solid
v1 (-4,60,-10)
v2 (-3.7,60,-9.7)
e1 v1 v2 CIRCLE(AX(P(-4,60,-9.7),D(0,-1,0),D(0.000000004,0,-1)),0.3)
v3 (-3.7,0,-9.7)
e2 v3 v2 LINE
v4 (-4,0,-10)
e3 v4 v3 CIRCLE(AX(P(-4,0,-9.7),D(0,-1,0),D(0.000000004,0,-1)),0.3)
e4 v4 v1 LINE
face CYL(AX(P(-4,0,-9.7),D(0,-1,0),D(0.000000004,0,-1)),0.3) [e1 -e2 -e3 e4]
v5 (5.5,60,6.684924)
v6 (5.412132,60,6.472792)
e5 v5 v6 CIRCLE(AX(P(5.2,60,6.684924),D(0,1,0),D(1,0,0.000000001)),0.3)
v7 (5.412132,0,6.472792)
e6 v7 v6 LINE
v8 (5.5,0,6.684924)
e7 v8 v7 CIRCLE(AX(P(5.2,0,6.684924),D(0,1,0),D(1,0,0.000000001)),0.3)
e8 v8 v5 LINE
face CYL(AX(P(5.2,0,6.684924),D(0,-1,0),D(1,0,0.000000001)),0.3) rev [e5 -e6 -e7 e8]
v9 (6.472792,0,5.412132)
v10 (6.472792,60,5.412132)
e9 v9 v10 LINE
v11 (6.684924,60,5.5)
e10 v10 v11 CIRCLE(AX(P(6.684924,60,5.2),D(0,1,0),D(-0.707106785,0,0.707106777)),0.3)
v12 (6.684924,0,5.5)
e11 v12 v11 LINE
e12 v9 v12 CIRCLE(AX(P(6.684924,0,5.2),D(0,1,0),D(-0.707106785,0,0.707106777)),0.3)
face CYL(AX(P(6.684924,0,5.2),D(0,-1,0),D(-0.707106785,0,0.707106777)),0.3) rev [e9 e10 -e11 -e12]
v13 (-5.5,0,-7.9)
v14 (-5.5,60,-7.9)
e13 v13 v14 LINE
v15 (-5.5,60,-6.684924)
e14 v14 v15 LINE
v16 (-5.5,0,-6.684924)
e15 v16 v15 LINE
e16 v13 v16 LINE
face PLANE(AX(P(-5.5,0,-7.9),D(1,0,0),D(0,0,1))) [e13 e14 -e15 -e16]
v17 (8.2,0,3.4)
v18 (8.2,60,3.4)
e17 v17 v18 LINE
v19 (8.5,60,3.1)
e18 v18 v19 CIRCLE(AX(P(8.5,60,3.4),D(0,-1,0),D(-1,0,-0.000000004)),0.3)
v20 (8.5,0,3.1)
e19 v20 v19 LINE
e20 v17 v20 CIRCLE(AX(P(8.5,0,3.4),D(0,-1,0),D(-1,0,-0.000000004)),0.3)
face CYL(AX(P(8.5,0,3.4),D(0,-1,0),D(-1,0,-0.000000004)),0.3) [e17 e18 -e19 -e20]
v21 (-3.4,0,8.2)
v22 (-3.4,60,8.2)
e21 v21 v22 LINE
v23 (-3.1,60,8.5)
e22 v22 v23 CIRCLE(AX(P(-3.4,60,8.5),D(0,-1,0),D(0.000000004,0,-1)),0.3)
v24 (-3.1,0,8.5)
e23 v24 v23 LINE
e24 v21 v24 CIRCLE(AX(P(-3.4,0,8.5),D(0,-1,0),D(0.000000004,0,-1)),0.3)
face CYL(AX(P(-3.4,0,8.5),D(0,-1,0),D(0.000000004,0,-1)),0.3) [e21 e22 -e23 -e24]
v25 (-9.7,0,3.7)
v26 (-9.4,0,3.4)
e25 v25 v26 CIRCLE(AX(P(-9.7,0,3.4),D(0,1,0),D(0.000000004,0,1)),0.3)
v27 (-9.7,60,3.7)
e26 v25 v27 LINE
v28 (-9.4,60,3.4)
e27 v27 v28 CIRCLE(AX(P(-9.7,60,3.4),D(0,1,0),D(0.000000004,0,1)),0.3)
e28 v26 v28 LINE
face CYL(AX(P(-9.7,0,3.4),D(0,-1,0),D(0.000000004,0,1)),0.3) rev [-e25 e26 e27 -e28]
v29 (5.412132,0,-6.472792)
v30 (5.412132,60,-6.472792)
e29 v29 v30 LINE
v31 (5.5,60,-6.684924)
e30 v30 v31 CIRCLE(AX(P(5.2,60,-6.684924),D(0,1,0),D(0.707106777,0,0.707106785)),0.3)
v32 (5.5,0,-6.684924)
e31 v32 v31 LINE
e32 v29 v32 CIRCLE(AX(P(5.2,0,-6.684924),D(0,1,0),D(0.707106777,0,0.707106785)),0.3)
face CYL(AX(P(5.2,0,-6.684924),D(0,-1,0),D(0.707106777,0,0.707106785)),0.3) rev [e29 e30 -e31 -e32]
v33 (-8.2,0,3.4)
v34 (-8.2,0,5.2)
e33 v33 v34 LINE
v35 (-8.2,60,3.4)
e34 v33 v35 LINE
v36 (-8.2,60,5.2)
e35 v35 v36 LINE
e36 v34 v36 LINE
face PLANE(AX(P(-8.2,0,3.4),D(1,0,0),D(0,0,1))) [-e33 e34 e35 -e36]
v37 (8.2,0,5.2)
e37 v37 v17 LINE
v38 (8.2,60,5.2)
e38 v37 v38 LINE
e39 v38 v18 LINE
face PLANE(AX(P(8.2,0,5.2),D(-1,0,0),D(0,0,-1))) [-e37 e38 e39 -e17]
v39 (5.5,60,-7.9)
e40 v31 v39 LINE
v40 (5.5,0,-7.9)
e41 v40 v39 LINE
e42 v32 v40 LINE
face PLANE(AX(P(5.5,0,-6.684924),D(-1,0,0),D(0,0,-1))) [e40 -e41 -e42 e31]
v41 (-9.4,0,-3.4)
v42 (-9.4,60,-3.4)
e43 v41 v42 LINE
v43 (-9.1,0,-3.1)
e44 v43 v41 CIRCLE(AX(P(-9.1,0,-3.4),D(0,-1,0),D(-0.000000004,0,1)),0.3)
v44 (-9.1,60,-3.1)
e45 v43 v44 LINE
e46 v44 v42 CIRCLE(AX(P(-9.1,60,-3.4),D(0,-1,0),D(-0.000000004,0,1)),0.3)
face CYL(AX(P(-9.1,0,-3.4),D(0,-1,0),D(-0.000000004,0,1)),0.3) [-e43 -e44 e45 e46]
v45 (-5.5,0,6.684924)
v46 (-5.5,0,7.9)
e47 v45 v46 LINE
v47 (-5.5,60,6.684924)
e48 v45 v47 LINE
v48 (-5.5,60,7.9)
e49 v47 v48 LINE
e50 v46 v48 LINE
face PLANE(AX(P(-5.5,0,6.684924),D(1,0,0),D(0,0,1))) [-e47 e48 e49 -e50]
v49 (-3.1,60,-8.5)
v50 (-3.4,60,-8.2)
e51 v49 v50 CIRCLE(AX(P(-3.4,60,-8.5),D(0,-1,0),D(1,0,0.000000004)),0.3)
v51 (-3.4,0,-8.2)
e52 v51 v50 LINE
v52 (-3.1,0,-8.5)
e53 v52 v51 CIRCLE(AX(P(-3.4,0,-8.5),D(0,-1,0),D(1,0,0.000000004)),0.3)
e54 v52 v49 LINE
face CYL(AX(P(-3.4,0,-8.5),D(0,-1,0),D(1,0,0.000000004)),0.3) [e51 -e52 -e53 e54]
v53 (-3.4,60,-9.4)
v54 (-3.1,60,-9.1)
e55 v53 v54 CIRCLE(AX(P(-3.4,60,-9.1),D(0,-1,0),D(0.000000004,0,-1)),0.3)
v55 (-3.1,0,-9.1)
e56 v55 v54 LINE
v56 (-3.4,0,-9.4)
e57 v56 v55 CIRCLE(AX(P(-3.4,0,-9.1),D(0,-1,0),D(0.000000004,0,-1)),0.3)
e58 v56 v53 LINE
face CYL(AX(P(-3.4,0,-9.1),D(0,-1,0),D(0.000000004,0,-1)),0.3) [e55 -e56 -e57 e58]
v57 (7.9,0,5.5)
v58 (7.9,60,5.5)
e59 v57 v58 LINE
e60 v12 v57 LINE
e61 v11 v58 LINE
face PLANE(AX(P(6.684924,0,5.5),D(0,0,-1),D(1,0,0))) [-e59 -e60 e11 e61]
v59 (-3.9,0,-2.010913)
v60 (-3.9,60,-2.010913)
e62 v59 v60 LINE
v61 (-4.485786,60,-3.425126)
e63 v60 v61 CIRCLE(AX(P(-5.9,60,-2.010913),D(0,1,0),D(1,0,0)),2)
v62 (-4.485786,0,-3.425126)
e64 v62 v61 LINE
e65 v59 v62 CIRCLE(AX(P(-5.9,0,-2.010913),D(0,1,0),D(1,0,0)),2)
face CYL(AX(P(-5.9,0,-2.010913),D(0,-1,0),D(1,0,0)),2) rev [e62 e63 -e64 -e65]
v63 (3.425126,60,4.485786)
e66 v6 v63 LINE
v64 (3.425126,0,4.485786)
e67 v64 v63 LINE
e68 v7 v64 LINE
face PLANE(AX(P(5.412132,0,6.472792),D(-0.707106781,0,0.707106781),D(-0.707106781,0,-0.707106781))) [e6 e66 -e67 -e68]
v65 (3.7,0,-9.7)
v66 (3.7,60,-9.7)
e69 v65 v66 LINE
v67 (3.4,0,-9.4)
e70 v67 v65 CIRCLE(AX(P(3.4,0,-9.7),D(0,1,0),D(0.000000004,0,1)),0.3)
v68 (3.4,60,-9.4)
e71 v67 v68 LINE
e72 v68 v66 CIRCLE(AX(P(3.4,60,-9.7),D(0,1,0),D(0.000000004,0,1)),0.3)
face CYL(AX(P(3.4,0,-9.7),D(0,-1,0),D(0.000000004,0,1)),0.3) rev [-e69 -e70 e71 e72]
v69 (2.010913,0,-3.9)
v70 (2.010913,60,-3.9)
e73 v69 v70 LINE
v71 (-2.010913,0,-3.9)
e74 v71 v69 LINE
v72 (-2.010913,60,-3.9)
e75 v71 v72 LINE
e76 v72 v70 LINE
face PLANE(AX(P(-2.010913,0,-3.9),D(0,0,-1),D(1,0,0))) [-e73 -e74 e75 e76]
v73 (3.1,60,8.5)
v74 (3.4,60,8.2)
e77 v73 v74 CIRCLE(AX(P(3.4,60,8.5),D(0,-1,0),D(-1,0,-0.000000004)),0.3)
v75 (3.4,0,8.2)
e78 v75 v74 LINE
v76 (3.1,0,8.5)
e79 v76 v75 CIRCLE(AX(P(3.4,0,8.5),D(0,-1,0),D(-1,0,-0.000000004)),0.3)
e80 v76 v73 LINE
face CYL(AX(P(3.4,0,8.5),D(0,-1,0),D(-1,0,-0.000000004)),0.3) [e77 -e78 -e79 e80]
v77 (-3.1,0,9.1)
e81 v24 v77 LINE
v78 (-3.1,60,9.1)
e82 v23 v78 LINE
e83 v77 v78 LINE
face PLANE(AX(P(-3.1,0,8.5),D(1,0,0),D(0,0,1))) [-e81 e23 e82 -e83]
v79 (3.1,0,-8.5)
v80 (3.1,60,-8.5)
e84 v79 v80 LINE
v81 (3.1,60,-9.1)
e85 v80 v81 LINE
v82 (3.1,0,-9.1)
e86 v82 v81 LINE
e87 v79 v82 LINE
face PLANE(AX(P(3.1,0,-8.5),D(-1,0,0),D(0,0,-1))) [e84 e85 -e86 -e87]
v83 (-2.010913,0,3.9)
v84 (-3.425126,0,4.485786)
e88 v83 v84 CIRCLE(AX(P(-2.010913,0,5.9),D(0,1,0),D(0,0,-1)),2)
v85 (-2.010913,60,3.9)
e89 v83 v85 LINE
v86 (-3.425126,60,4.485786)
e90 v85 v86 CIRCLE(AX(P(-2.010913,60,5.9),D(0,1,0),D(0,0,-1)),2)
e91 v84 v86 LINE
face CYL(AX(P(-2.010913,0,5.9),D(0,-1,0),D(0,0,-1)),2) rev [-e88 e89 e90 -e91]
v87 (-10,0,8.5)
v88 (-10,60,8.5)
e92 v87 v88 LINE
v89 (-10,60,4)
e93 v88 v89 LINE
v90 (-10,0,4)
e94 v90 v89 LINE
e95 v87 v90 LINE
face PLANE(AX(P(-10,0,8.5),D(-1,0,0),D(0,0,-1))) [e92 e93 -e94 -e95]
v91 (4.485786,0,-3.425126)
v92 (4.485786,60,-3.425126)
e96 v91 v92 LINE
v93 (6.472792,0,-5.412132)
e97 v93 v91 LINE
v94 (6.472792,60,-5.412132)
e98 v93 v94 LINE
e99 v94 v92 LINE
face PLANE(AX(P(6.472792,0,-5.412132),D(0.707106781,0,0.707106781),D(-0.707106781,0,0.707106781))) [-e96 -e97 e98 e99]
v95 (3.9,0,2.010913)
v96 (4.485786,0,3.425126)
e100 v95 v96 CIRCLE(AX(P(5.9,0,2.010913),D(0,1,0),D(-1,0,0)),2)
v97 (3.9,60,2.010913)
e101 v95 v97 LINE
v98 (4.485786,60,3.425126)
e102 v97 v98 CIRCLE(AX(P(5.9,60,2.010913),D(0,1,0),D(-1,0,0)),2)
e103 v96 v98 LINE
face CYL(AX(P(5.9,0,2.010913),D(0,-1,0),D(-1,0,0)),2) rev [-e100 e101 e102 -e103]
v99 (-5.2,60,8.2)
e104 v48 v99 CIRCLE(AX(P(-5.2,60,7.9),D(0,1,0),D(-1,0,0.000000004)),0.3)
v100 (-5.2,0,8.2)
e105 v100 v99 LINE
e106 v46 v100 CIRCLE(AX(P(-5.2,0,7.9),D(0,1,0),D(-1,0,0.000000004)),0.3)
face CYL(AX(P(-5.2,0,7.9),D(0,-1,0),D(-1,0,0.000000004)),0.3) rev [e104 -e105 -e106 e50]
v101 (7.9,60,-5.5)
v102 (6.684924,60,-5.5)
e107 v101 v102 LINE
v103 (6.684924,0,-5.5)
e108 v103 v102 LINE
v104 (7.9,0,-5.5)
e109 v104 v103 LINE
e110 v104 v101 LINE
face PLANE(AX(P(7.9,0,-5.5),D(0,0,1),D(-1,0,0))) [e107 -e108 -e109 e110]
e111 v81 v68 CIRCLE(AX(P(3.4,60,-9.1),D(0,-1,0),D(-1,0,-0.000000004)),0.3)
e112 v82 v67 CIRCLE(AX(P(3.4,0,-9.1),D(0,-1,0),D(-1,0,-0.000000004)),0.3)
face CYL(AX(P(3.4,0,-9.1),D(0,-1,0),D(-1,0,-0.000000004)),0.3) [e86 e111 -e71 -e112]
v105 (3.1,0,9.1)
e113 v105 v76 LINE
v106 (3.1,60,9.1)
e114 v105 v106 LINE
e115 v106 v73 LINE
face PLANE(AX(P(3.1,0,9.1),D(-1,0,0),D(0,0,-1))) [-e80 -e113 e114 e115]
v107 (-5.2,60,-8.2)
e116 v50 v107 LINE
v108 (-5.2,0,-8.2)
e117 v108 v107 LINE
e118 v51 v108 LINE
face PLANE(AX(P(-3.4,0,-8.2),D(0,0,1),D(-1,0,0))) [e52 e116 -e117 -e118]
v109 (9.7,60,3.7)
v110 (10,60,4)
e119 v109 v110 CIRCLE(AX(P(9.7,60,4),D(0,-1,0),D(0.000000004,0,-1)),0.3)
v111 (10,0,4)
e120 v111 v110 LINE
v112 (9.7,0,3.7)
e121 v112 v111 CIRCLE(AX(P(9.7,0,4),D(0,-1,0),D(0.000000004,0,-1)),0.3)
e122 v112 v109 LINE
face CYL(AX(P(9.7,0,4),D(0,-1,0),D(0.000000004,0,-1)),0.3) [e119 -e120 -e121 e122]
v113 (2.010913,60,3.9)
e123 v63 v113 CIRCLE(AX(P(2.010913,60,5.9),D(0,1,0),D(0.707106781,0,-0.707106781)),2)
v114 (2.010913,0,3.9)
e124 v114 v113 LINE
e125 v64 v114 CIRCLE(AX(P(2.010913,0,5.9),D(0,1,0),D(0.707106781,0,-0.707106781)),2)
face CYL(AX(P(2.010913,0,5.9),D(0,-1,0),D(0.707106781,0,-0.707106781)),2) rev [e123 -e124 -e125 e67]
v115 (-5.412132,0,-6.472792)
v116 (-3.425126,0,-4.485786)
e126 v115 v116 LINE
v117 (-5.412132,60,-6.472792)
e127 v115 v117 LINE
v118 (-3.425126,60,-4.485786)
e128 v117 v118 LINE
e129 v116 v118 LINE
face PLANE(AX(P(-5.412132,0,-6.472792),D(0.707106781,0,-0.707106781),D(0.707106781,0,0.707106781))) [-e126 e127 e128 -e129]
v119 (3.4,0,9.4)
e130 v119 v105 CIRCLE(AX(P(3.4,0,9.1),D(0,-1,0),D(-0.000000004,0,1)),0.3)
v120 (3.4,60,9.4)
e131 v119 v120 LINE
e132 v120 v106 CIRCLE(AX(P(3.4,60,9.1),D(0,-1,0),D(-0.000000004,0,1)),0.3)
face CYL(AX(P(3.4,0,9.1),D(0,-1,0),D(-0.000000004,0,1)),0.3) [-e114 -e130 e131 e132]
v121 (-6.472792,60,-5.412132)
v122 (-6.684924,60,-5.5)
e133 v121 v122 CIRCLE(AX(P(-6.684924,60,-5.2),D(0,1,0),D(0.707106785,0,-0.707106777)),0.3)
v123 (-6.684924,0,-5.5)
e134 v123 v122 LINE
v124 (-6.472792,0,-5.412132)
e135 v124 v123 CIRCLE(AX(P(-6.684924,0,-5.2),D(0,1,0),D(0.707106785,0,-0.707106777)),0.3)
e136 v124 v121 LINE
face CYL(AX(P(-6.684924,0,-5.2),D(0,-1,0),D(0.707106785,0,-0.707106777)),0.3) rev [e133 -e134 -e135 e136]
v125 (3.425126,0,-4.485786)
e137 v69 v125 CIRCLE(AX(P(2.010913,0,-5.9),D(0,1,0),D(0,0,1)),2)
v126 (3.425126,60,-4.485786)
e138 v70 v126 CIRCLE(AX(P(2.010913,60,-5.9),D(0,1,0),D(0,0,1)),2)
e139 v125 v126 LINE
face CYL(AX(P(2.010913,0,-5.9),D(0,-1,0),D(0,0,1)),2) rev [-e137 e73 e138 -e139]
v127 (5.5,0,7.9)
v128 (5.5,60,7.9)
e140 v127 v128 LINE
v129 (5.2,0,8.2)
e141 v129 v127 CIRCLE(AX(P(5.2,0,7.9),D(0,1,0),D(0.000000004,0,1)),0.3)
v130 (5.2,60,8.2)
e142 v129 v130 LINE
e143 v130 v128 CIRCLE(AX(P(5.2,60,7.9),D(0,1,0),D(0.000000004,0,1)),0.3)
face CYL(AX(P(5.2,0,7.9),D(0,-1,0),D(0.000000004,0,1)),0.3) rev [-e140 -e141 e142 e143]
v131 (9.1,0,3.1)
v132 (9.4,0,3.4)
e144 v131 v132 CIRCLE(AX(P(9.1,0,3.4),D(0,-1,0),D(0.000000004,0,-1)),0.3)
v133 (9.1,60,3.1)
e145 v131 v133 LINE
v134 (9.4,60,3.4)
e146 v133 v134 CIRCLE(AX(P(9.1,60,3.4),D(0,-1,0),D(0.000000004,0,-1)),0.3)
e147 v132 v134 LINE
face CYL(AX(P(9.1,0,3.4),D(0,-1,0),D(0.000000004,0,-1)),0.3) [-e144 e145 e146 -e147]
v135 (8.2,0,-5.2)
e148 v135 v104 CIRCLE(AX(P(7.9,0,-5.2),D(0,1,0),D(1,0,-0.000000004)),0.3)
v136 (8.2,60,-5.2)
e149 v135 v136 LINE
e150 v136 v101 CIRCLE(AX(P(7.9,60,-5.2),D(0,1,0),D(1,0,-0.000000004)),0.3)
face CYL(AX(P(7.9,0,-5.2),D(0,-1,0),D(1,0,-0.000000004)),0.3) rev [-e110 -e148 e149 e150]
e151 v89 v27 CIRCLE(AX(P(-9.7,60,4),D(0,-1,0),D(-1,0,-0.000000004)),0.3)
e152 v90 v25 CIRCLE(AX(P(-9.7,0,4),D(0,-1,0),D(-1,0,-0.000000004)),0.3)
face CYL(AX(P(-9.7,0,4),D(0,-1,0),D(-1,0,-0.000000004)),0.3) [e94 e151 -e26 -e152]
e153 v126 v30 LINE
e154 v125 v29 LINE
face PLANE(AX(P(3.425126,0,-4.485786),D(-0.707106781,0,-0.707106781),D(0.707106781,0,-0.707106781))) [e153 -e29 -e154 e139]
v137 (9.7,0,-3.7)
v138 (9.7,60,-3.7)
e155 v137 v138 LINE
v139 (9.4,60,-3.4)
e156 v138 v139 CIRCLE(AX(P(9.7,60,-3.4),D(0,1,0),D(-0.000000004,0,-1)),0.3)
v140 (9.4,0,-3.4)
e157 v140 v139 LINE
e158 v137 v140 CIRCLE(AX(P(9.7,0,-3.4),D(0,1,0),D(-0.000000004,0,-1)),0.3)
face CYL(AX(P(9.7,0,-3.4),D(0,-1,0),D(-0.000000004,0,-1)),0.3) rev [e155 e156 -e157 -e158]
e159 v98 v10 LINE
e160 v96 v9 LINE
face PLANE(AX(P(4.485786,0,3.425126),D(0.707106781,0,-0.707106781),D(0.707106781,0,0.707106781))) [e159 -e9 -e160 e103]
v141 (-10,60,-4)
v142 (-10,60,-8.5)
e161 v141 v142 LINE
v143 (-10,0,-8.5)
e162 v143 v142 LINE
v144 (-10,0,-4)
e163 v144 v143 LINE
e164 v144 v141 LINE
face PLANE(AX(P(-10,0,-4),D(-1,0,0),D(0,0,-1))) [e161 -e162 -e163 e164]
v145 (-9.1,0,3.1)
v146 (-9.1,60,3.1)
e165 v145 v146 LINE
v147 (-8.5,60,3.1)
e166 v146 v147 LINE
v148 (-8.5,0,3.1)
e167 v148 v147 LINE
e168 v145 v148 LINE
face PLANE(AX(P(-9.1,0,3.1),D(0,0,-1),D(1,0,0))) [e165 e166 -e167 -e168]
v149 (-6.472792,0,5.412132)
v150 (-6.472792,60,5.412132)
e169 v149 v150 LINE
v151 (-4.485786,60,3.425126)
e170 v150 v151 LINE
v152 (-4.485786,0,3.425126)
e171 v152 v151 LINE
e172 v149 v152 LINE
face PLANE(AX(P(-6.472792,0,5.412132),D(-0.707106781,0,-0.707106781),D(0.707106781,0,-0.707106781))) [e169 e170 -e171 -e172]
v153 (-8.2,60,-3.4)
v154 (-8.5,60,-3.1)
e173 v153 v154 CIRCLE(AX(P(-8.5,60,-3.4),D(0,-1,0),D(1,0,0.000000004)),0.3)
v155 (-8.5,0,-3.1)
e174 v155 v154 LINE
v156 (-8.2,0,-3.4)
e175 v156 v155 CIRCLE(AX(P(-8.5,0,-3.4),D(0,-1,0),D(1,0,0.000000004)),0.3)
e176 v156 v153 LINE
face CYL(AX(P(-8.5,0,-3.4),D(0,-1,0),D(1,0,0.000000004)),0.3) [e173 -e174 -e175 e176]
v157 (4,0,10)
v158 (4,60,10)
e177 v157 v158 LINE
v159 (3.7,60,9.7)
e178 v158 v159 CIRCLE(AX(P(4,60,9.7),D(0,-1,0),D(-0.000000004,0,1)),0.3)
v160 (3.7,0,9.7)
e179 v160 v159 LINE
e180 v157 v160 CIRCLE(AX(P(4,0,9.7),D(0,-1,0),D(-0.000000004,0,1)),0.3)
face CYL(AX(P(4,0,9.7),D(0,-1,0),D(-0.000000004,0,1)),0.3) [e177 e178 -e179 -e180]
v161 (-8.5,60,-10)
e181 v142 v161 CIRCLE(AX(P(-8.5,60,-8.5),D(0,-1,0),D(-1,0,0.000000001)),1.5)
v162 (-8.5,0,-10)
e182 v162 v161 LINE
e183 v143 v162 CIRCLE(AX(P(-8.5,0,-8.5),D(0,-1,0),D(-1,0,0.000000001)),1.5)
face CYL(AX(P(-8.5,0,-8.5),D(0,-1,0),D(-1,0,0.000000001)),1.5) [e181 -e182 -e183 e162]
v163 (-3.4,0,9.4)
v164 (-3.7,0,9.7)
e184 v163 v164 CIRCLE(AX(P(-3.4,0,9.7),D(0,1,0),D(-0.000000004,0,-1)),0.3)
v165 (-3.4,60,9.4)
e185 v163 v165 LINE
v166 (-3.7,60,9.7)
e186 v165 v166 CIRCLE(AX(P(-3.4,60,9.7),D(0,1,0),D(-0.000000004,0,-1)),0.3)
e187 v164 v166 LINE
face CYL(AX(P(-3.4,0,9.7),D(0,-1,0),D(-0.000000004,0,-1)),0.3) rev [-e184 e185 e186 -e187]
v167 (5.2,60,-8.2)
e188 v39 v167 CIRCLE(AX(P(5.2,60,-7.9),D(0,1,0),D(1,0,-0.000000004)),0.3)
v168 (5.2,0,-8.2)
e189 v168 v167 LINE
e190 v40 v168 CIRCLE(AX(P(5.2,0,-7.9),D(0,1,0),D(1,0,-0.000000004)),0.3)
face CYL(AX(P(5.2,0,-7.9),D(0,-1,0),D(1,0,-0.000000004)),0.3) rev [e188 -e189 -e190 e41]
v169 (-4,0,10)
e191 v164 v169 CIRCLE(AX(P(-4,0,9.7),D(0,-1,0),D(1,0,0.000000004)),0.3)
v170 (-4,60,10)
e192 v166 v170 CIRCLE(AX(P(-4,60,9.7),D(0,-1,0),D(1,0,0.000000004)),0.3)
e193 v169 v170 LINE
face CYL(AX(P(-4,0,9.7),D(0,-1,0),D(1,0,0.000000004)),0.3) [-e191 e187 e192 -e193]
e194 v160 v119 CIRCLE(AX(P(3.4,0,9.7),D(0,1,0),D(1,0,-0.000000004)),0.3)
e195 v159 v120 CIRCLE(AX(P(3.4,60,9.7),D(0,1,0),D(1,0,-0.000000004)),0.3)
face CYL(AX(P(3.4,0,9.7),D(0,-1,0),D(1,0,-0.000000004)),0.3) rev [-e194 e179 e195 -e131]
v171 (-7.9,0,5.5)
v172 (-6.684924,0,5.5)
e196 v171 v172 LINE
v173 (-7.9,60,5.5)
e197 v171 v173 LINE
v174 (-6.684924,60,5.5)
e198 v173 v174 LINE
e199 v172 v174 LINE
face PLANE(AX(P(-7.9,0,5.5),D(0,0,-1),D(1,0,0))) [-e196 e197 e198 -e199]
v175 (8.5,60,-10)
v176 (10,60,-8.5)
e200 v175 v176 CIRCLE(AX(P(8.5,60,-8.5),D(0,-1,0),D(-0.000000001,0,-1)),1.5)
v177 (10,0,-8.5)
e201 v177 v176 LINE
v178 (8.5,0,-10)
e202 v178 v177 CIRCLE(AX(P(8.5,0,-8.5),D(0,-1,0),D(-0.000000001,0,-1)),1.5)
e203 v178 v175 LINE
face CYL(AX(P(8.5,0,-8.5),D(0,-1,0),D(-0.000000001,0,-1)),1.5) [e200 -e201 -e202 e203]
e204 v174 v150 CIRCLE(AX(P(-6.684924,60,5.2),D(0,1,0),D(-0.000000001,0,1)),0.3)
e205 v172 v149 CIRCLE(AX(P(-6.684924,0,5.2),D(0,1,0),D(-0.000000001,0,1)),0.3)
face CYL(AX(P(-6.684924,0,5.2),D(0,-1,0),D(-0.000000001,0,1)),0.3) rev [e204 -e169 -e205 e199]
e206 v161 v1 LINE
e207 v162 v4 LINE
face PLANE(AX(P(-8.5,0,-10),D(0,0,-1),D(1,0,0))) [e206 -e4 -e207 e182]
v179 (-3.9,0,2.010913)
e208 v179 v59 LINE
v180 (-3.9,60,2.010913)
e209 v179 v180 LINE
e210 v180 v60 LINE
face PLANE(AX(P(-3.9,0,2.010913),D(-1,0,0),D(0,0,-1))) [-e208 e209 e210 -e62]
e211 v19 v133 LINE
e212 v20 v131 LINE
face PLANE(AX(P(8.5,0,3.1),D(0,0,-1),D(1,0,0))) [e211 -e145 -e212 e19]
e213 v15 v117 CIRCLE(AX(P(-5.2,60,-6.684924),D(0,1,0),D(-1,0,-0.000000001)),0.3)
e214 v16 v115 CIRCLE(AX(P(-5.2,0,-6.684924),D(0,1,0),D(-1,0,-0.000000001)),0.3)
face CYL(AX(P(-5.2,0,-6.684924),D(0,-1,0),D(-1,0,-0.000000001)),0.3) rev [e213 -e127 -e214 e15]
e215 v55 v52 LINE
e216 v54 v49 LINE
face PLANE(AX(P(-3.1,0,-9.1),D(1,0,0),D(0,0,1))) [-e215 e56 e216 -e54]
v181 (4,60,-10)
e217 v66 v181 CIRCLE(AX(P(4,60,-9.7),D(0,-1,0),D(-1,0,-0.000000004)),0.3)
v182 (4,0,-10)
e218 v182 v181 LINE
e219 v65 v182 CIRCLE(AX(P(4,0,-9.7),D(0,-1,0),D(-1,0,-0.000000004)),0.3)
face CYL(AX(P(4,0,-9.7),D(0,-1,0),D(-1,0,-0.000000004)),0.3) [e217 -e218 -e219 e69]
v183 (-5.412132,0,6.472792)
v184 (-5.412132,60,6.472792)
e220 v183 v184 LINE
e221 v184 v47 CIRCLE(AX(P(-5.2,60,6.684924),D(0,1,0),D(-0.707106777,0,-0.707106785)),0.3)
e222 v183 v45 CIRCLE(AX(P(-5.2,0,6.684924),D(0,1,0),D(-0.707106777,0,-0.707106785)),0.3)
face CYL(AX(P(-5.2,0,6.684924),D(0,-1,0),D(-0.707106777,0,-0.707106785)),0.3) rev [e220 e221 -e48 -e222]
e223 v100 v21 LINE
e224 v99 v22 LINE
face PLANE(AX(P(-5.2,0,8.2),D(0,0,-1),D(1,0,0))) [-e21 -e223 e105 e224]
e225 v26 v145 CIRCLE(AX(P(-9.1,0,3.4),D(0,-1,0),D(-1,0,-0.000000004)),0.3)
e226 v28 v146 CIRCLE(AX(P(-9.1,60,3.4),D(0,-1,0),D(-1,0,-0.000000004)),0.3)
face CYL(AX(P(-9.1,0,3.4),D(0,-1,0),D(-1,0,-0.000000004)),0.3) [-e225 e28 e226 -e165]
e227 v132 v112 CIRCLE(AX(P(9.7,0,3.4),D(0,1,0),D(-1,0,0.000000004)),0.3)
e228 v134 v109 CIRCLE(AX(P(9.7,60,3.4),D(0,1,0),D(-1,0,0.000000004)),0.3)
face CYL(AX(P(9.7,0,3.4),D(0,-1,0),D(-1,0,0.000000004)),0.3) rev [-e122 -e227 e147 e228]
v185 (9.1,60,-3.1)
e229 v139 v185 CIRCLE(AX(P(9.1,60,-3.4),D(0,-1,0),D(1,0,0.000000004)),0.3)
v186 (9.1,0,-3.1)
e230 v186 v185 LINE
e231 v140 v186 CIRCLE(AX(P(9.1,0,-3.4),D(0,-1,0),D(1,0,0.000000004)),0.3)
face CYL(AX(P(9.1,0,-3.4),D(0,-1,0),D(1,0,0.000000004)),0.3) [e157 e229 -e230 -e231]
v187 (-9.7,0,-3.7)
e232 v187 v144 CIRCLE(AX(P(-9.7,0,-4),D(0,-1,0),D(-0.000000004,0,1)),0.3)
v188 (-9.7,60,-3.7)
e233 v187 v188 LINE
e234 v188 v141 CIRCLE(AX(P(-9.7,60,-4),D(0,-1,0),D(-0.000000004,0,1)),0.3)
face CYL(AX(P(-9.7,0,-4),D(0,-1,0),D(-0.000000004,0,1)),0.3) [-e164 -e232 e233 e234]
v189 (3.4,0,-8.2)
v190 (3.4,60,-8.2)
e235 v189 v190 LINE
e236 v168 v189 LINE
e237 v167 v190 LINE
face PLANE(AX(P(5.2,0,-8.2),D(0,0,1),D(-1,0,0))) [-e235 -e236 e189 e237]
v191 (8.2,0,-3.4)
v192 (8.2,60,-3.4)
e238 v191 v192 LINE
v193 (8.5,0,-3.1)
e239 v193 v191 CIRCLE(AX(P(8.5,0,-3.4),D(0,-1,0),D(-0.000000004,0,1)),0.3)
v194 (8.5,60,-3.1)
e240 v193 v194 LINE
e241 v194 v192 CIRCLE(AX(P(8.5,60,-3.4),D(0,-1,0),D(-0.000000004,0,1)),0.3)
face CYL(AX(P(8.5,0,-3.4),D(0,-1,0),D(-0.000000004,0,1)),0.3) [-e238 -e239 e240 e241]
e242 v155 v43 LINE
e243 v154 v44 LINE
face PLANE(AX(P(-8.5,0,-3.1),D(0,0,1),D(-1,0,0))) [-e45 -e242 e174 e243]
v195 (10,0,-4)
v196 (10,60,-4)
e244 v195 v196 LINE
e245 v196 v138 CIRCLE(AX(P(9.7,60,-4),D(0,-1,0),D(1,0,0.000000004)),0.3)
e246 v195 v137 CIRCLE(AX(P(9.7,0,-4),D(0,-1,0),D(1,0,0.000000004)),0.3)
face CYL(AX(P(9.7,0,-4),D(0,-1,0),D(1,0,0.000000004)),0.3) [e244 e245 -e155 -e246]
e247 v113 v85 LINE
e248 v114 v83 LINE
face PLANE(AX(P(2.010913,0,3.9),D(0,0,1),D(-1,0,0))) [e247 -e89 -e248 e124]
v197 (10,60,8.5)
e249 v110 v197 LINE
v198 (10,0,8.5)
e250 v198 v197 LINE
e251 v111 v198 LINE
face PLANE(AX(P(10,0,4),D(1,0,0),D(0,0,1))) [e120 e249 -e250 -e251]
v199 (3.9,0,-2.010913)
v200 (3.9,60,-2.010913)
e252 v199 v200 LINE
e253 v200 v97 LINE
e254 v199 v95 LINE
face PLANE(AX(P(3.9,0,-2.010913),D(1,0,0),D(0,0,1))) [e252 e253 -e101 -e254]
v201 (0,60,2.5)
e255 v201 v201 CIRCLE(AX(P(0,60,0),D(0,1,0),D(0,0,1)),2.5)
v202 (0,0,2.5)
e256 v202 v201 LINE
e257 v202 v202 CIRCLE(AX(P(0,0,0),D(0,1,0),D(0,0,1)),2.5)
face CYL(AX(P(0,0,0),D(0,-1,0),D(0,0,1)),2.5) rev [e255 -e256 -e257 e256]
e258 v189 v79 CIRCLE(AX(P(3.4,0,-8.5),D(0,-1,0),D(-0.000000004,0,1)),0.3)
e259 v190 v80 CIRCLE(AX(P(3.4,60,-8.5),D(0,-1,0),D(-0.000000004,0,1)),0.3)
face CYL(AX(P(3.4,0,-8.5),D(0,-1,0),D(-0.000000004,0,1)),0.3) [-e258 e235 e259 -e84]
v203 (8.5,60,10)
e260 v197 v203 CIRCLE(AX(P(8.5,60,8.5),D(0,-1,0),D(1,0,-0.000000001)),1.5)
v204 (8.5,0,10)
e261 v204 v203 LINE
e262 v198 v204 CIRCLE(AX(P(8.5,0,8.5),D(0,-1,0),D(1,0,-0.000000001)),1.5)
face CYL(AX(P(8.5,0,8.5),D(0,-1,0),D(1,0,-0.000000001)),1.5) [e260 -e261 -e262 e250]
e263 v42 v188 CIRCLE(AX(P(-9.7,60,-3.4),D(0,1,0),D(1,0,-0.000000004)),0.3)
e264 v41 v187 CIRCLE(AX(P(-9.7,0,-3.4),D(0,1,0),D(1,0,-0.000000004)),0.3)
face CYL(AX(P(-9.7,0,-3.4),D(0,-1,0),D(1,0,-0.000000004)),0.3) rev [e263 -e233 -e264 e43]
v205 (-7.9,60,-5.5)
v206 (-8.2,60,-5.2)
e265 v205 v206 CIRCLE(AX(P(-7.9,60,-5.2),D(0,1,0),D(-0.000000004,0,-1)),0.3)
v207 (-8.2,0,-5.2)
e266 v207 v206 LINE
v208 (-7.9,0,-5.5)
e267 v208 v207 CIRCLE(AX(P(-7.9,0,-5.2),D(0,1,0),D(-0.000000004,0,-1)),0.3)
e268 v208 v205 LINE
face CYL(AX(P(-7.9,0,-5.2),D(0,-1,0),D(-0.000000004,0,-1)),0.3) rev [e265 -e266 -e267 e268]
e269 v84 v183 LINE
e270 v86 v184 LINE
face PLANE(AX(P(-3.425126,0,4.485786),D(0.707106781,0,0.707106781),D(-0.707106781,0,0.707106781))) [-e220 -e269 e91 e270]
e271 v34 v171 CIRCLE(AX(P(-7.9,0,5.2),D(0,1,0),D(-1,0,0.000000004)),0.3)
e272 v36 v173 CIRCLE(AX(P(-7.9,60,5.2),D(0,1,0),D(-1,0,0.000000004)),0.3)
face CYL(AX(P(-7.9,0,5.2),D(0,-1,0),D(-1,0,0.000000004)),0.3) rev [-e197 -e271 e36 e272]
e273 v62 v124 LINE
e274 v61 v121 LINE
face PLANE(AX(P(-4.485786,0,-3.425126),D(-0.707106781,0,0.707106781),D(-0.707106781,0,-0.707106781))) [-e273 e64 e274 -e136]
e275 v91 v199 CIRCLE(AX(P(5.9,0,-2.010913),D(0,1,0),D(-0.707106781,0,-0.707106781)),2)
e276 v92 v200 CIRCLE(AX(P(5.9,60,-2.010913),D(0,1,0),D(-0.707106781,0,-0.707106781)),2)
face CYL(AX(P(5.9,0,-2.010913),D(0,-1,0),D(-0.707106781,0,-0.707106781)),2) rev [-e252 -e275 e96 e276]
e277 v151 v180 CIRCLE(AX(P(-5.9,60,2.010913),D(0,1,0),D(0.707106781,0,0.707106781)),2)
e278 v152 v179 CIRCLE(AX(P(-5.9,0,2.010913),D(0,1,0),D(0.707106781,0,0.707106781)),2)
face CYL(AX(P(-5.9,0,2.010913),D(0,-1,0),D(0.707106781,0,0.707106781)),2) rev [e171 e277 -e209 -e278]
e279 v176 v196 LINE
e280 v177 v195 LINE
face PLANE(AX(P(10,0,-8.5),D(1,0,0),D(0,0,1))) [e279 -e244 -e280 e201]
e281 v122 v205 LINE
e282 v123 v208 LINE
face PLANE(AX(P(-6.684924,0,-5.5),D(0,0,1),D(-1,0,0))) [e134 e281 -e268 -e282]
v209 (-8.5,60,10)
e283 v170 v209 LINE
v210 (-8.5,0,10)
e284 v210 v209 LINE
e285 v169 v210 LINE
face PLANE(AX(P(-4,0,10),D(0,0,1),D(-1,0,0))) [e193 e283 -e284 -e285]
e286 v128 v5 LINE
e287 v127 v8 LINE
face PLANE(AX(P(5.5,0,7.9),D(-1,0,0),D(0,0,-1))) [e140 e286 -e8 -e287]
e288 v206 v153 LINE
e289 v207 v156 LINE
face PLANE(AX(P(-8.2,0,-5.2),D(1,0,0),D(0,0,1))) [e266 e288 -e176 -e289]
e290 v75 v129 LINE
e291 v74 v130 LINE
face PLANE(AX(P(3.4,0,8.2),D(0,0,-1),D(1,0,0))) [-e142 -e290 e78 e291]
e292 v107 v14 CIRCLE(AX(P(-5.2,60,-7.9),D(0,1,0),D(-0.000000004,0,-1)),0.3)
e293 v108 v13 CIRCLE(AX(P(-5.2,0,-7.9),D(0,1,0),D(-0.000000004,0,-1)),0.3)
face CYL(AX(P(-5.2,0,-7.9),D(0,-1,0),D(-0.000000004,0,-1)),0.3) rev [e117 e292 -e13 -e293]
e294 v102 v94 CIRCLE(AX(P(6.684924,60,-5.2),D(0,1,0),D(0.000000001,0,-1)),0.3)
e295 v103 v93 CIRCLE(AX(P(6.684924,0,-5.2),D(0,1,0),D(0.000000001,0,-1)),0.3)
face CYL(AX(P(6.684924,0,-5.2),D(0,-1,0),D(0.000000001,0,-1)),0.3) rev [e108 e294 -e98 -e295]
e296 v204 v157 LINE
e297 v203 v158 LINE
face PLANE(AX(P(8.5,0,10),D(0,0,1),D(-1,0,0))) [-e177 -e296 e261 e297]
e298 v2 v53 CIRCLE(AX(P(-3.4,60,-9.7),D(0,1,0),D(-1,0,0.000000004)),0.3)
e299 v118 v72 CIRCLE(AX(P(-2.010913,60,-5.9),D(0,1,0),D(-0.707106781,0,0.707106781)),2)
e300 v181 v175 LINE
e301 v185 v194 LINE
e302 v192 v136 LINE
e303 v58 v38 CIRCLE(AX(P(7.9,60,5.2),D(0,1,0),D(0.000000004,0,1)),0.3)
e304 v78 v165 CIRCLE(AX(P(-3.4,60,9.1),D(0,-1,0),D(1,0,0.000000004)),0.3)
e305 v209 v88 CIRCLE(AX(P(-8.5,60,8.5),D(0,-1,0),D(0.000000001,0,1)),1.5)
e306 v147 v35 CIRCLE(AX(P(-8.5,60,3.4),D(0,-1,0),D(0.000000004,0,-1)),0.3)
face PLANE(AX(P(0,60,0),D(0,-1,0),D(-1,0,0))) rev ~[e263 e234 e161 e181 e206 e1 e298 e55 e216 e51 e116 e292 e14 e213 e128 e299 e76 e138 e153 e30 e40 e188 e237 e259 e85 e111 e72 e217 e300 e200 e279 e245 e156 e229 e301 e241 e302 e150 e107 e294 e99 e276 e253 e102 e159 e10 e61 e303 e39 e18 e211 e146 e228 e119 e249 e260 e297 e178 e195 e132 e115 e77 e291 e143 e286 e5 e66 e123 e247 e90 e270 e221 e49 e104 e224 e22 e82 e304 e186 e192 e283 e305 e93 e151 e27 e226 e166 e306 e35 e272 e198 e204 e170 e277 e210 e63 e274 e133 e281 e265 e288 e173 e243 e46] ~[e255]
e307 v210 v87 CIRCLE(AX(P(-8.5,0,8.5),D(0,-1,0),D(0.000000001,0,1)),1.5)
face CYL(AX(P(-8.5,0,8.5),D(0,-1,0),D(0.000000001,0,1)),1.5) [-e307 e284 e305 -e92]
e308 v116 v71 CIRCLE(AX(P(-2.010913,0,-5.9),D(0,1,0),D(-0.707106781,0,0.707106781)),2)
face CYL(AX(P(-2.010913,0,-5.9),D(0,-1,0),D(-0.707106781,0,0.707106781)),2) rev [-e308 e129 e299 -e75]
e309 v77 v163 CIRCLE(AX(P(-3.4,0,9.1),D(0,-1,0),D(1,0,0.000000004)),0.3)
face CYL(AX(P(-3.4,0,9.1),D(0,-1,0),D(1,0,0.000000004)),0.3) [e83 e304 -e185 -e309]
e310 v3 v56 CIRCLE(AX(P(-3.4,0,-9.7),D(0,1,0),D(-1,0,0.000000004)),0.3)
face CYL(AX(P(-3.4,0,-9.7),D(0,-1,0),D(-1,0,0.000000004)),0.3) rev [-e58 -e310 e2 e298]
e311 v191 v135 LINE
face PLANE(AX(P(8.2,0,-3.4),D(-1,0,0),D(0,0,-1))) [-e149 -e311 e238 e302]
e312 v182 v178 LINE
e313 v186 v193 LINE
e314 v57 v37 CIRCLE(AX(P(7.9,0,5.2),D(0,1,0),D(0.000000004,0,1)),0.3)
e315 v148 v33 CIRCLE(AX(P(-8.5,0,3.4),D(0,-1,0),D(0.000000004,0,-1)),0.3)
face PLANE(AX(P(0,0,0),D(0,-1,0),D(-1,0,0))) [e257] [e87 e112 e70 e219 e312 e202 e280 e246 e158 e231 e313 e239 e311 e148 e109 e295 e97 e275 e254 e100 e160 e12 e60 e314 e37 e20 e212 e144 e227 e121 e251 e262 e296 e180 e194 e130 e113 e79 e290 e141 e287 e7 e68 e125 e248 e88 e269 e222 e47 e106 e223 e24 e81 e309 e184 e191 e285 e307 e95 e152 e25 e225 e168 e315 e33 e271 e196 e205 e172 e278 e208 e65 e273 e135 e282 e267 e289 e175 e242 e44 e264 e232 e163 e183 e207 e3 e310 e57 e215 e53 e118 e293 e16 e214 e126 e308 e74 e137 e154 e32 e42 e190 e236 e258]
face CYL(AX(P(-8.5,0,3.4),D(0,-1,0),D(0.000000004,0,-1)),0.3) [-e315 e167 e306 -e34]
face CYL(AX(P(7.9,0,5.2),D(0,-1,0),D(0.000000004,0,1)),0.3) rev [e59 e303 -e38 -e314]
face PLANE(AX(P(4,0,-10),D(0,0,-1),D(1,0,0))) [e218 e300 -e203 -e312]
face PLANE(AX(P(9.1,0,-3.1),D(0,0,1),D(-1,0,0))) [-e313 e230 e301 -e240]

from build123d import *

# Parameters (mm, degrees)
SKETCH_1_R      = 2.5
EXTRUDE_1_DEPTH = 60


with BuildPart() as part:
    # 草图1 → 凸台-拉伸1 (new body)
    with BuildSketch(Plane(origin=(0, 0, 0), x_dir=(1, 0, 0), z_dir=(0, 1, 0))):
        with BuildLine():
            Line((10, 8.5), (10, 4))
            ThreePointArc((10, 4), (9.912132034, 3.787867966), (9.7, 3.7))
            ThreePointArc((9.7, 3.7), (9.487867966, 3.612132034), (9.4, 3.4))
            ThreePointArc((9.4, 3.4), (9.312132034, 3.187867966), (9.1, 3.1))
            Line((9.1, 3.1), (8.5, 3.1))
            ThreePointArc((8.5, 3.1), (8.287867966, 3.187867966), (8.2, 3.4))
            Line((8.2, 3.4), (8.2, 5.2))
            ThreePointArc((8.2, 5.2), (8.112132034, 5.412132034), (7.9, 5.5))
            Line((7.9, 5.5), (6.68492424, 5.5))
            ThreePointArc((6.68492424, 5.5), (6.570119211, 5.47716386), (6.472792206, 5.412132034))
            Line((6.472792206, 5.412132034), (4.485786438, 3.425126266))
            ThreePointArc((4.485786438, 3.425126266), (4.052240935, 2.776279568), (3.9, 2.010912703))
            Line((3.9, 2.010912703), (3.9, -2.010912703))
            ThreePointArc((3.9, -2.010912703), (4.052240935, -2.776279568), (4.485786438, -3.425126266))
            Line((4.485786438, -3.425126266), (6.472792206, -5.412132034))
            ThreePointArc((6.472792206, -5.412132034), (6.570119211, -5.47716386), (6.68492424, -5.5))
            Line((6.68492424, -5.5), (7.9, -5.5))
            ThreePointArc((7.9, -5.5), (8.112132034, -5.412132034), (8.2, -5.2))
            Line((8.2, -5.2), (8.2, -3.4))
            ThreePointArc((8.2, -3.4), (8.287867966, -3.187867966), (8.5, -3.1))
            Line((8.5, -3.1), (9.1, -3.1))
            ThreePointArc((9.1, -3.1), (9.312132034, -3.187867966), (9.4, -3.4))
            ThreePointArc((9.4, -3.4), (9.487867966, -3.612132034), (9.7, -3.7))
            ThreePointArc((9.7, -3.7), (9.912132034, -3.787867966), (10, -4))
            Line((10, -4), (10, -8.5))
            ThreePointArc((10, -8.5), (9.560660172, -9.560660172), (8.5, -10))
            Line((8.5, -10), (4, -10))
            ThreePointArc((4, -10), (3.787867966, -9.912132034), (3.7, -9.7))
            ThreePointArc((3.7, -9.7), (3.612132034, -9.487867966), (3.4, -9.4))
            ThreePointArc((3.4, -9.4), (3.187867966, -9.312132034), (3.1, -9.1))
            Line((3.1, -9.1), (3.1, -8.5))
            ThreePointArc((3.1, -8.5), (3.187867966, -8.287867966), (3.4, -8.2))
            Line((3.4, -8.2), (5.2, -8.2))
            ThreePointArc((5.2, -8.2), (5.412132034, -8.112132034), (5.5, -7.9))
            Line((5.5, -7.9), (5.5, -6.68492424))
            ThreePointArc((5.5, -6.68492424), (5.47716386, -6.570119211), (5.412132034, -6.472792206))
            Line((5.412132034, -6.472792206), (3.425126266, -4.485786438))
            ThreePointArc((3.425126266, -4.485786438), (2.776279568, -4.052240935), (2.010912703, -3.9))
            Line((2.010912703, -3.9), (-2.010912703, -3.9))
            ThreePointArc((-2.010912703, -3.9), (-2.776279568, -4.052240935), (-3.425126266, -4.485786438))
            Line((-3.425126266, -4.485786438), (-5.412132034, -6.472792206))
            ThreePointArc((-5.412132034, -6.472792206), (-5.47716386, -6.570119211), (-5.5, -6.68492424))
            Line((-5.5, -6.68492424), (-5.5, -7.9))
            ThreePointArc((-5.5, -7.9), (-5.412132034, -8.112132034), (-5.2, -8.2))
            Line((-5.2, -8.2), (-3.4, -8.2))
            ThreePointArc((-3.4, -8.2), (-3.187867966, -8.287867966), (-3.1, -8.5))
            Line((-3.1, -8.5), (-3.1, -9.1))
            ThreePointArc((-3.1, -9.1), (-3.187867966, -9.312132034), (-3.4, -9.4))
            ThreePointArc((-3.4, -9.4), (-3.612132034, -9.487867966), (-3.7, -9.7))
            ThreePointArc((-3.7, -9.7), (-3.787867966, -9.912132034), (-4, -10))
            Line((-4, -10), (-8.5, -10))
            ThreePointArc((-8.5, -10), (-9.560660172, -9.560660172), (-10, -8.5))
            Line((-10, -8.5), (-10, -4))
            ThreePointArc((-10, -4), (-9.912132034, -3.787867966), (-9.7, -3.7))
            ThreePointArc((-9.7, -3.7), (-9.487867966, -3.612132034), (-9.4, -3.4))
            ThreePointArc((-9.4, -3.4), (-9.312132034, -3.187867966), (-9.1, -3.1))
            Line((-9.1, -3.1), (-8.5, -3.1))
            ThreePointArc((-8.5, -3.1), (-8.287867966, -3.187867966), (-8.2, -3.4))
            Line((-8.2, -3.4), (-8.2, -5.2))
            ThreePointArc((-8.2, -5.2), (-8.112132034, -5.412132034), (-7.9, -5.5))
            Line((-7.9, -5.5), (-6.68492424, -5.5))
            ThreePointArc((-6.68492424, -5.5), (-6.570119211, -5.47716386), (-6.472792206, -5.412132034))
            Line((-6.472792206, -5.412132034), (-4.485786438, -3.425126266))
            ThreePointArc((-4.485786438, -3.425126266), (-4.052240935, -2.776279568), (-3.9, -2.010912703))
            Line((-3.9, -2.010912703), (-3.9, 2.010912703))
            ThreePointArc((-3.9, 2.010912703), (-4.052240935, 2.776279568), (-4.485786438, 3.425126266))
            Line((-4.485786438, 3.425126266), (-6.472792206, 5.412132034))
            ThreePointArc((-6.472792206, 5.412132034), (-6.570119211, 5.47716386), (-6.68492424, 5.5))
            Line((-6.68492424, 5.5), (-7.9, 5.5))
            ThreePointArc((-7.9, 5.5), (-8.112132034, 5.412132034), (-8.2, 5.2))
            Line((-8.2, 5.2), (-8.2, 3.4))
            ThreePointArc((-8.2, 3.4), (-8.287867966, 3.187867966), (-8.5, 3.1))
            Line((-8.5, 3.1), (-9.1, 3.1))
            ThreePointArc((-9.1, 3.1), (-9.312132034, 3.187867966), (-9.4, 3.4))
            ThreePointArc((-9.4, 3.4), (-9.487867966, 3.612132034), (-9.7, 3.7))
            ThreePointArc((-9.7, 3.7), (-9.912132034, 3.787867966), (-10, 4))
            Line((-10, 4), (-10, 8.5))
            ThreePointArc((-10, 8.5), (-9.560660172, 9.560660172), (-8.5, 10))
            Line((-8.5, 10), (-4, 10))
            ThreePointArc((-4, 10), (-3.787867966, 9.912132034), (-3.7, 9.7))
            ThreePointArc((-3.7, 9.7), (-3.612132034, 9.487867966), (-3.4, 9.4))
            ThreePointArc((-3.4, 9.4), (-3.187867966, 9.312132034), (-3.1, 9.1))
            Line((-3.1, 9.1), (-3.1, 8.5))
            ThreePointArc((-3.1, 8.5), (-3.187867966, 8.287867966), (-3.4, 8.2))
            Line((-3.4, 8.2), (-5.2, 8.2))
            ThreePointArc((-5.2, 8.2), (-5.412132034, 8.112132034), (-5.5, 7.9))
            Line((-5.5, 7.9), (-5.5, 6.68492424))
            ThreePointArc((-5.5, 6.68492424), (-5.47716386, 6.570119211), (-5.412132034, 6.472792206))
            Line((-5.412132034, 6.472792206), (-3.425126266, 4.485786438))
            ThreePointArc((-3.425126266, 4.485786438), (-2.776279568, 4.052240935), (-2.010912703, 3.9))
            Line((-2.010912703, 3.9), (2.010912703, 3.9))
            ThreePointArc((2.010912703, 3.9), (2.776279568, 4.052240935), (3.425126266, 4.485786438))
            Line((3.425126266, 4.485786438), (5.412132034, 6.472792206))
            ThreePointArc((5.412132034, 6.472792206), (5.47716386, 6.570119211), (5.5, 6.68492424))
            Line((5.5, 6.68492424), (5.5, 7.9))
            ThreePointArc((5.5, 7.9), (5.412132034, 8.112132034), (5.2, 8.2))
            Line((5.2, 8.2), (3.4, 8.2))
            ThreePointArc((3.4, 8.2), (3.187867966, 8.287867966), (3.1, 8.5))
            Line((3.1, 8.5), (3.1, 9.1))
            ThreePointArc((3.1, 9.1), (3.187867966, 9.312132034), (3.4, 9.4))
            ThreePointArc((3.4, 9.4), (3.612132034, 9.487867966), (3.7, 9.7))
            ThreePointArc((3.7, 9.7), (3.787867966, 9.912132034), (4, 10))
            Line((4, 10), (8.5, 10))
            ThreePointArc((8.5, 10), (9.560660172, 9.560660172), (10, 8.5))
        make_face()
        with Locations(Location((0, 0, 0), (0, 0, 270))):
            Circle(SKETCH_1_R, mode=Mode.SUBTRACT)
    extrude(amount=EXTRUDE_1_DEPTH)


solid = part.part
